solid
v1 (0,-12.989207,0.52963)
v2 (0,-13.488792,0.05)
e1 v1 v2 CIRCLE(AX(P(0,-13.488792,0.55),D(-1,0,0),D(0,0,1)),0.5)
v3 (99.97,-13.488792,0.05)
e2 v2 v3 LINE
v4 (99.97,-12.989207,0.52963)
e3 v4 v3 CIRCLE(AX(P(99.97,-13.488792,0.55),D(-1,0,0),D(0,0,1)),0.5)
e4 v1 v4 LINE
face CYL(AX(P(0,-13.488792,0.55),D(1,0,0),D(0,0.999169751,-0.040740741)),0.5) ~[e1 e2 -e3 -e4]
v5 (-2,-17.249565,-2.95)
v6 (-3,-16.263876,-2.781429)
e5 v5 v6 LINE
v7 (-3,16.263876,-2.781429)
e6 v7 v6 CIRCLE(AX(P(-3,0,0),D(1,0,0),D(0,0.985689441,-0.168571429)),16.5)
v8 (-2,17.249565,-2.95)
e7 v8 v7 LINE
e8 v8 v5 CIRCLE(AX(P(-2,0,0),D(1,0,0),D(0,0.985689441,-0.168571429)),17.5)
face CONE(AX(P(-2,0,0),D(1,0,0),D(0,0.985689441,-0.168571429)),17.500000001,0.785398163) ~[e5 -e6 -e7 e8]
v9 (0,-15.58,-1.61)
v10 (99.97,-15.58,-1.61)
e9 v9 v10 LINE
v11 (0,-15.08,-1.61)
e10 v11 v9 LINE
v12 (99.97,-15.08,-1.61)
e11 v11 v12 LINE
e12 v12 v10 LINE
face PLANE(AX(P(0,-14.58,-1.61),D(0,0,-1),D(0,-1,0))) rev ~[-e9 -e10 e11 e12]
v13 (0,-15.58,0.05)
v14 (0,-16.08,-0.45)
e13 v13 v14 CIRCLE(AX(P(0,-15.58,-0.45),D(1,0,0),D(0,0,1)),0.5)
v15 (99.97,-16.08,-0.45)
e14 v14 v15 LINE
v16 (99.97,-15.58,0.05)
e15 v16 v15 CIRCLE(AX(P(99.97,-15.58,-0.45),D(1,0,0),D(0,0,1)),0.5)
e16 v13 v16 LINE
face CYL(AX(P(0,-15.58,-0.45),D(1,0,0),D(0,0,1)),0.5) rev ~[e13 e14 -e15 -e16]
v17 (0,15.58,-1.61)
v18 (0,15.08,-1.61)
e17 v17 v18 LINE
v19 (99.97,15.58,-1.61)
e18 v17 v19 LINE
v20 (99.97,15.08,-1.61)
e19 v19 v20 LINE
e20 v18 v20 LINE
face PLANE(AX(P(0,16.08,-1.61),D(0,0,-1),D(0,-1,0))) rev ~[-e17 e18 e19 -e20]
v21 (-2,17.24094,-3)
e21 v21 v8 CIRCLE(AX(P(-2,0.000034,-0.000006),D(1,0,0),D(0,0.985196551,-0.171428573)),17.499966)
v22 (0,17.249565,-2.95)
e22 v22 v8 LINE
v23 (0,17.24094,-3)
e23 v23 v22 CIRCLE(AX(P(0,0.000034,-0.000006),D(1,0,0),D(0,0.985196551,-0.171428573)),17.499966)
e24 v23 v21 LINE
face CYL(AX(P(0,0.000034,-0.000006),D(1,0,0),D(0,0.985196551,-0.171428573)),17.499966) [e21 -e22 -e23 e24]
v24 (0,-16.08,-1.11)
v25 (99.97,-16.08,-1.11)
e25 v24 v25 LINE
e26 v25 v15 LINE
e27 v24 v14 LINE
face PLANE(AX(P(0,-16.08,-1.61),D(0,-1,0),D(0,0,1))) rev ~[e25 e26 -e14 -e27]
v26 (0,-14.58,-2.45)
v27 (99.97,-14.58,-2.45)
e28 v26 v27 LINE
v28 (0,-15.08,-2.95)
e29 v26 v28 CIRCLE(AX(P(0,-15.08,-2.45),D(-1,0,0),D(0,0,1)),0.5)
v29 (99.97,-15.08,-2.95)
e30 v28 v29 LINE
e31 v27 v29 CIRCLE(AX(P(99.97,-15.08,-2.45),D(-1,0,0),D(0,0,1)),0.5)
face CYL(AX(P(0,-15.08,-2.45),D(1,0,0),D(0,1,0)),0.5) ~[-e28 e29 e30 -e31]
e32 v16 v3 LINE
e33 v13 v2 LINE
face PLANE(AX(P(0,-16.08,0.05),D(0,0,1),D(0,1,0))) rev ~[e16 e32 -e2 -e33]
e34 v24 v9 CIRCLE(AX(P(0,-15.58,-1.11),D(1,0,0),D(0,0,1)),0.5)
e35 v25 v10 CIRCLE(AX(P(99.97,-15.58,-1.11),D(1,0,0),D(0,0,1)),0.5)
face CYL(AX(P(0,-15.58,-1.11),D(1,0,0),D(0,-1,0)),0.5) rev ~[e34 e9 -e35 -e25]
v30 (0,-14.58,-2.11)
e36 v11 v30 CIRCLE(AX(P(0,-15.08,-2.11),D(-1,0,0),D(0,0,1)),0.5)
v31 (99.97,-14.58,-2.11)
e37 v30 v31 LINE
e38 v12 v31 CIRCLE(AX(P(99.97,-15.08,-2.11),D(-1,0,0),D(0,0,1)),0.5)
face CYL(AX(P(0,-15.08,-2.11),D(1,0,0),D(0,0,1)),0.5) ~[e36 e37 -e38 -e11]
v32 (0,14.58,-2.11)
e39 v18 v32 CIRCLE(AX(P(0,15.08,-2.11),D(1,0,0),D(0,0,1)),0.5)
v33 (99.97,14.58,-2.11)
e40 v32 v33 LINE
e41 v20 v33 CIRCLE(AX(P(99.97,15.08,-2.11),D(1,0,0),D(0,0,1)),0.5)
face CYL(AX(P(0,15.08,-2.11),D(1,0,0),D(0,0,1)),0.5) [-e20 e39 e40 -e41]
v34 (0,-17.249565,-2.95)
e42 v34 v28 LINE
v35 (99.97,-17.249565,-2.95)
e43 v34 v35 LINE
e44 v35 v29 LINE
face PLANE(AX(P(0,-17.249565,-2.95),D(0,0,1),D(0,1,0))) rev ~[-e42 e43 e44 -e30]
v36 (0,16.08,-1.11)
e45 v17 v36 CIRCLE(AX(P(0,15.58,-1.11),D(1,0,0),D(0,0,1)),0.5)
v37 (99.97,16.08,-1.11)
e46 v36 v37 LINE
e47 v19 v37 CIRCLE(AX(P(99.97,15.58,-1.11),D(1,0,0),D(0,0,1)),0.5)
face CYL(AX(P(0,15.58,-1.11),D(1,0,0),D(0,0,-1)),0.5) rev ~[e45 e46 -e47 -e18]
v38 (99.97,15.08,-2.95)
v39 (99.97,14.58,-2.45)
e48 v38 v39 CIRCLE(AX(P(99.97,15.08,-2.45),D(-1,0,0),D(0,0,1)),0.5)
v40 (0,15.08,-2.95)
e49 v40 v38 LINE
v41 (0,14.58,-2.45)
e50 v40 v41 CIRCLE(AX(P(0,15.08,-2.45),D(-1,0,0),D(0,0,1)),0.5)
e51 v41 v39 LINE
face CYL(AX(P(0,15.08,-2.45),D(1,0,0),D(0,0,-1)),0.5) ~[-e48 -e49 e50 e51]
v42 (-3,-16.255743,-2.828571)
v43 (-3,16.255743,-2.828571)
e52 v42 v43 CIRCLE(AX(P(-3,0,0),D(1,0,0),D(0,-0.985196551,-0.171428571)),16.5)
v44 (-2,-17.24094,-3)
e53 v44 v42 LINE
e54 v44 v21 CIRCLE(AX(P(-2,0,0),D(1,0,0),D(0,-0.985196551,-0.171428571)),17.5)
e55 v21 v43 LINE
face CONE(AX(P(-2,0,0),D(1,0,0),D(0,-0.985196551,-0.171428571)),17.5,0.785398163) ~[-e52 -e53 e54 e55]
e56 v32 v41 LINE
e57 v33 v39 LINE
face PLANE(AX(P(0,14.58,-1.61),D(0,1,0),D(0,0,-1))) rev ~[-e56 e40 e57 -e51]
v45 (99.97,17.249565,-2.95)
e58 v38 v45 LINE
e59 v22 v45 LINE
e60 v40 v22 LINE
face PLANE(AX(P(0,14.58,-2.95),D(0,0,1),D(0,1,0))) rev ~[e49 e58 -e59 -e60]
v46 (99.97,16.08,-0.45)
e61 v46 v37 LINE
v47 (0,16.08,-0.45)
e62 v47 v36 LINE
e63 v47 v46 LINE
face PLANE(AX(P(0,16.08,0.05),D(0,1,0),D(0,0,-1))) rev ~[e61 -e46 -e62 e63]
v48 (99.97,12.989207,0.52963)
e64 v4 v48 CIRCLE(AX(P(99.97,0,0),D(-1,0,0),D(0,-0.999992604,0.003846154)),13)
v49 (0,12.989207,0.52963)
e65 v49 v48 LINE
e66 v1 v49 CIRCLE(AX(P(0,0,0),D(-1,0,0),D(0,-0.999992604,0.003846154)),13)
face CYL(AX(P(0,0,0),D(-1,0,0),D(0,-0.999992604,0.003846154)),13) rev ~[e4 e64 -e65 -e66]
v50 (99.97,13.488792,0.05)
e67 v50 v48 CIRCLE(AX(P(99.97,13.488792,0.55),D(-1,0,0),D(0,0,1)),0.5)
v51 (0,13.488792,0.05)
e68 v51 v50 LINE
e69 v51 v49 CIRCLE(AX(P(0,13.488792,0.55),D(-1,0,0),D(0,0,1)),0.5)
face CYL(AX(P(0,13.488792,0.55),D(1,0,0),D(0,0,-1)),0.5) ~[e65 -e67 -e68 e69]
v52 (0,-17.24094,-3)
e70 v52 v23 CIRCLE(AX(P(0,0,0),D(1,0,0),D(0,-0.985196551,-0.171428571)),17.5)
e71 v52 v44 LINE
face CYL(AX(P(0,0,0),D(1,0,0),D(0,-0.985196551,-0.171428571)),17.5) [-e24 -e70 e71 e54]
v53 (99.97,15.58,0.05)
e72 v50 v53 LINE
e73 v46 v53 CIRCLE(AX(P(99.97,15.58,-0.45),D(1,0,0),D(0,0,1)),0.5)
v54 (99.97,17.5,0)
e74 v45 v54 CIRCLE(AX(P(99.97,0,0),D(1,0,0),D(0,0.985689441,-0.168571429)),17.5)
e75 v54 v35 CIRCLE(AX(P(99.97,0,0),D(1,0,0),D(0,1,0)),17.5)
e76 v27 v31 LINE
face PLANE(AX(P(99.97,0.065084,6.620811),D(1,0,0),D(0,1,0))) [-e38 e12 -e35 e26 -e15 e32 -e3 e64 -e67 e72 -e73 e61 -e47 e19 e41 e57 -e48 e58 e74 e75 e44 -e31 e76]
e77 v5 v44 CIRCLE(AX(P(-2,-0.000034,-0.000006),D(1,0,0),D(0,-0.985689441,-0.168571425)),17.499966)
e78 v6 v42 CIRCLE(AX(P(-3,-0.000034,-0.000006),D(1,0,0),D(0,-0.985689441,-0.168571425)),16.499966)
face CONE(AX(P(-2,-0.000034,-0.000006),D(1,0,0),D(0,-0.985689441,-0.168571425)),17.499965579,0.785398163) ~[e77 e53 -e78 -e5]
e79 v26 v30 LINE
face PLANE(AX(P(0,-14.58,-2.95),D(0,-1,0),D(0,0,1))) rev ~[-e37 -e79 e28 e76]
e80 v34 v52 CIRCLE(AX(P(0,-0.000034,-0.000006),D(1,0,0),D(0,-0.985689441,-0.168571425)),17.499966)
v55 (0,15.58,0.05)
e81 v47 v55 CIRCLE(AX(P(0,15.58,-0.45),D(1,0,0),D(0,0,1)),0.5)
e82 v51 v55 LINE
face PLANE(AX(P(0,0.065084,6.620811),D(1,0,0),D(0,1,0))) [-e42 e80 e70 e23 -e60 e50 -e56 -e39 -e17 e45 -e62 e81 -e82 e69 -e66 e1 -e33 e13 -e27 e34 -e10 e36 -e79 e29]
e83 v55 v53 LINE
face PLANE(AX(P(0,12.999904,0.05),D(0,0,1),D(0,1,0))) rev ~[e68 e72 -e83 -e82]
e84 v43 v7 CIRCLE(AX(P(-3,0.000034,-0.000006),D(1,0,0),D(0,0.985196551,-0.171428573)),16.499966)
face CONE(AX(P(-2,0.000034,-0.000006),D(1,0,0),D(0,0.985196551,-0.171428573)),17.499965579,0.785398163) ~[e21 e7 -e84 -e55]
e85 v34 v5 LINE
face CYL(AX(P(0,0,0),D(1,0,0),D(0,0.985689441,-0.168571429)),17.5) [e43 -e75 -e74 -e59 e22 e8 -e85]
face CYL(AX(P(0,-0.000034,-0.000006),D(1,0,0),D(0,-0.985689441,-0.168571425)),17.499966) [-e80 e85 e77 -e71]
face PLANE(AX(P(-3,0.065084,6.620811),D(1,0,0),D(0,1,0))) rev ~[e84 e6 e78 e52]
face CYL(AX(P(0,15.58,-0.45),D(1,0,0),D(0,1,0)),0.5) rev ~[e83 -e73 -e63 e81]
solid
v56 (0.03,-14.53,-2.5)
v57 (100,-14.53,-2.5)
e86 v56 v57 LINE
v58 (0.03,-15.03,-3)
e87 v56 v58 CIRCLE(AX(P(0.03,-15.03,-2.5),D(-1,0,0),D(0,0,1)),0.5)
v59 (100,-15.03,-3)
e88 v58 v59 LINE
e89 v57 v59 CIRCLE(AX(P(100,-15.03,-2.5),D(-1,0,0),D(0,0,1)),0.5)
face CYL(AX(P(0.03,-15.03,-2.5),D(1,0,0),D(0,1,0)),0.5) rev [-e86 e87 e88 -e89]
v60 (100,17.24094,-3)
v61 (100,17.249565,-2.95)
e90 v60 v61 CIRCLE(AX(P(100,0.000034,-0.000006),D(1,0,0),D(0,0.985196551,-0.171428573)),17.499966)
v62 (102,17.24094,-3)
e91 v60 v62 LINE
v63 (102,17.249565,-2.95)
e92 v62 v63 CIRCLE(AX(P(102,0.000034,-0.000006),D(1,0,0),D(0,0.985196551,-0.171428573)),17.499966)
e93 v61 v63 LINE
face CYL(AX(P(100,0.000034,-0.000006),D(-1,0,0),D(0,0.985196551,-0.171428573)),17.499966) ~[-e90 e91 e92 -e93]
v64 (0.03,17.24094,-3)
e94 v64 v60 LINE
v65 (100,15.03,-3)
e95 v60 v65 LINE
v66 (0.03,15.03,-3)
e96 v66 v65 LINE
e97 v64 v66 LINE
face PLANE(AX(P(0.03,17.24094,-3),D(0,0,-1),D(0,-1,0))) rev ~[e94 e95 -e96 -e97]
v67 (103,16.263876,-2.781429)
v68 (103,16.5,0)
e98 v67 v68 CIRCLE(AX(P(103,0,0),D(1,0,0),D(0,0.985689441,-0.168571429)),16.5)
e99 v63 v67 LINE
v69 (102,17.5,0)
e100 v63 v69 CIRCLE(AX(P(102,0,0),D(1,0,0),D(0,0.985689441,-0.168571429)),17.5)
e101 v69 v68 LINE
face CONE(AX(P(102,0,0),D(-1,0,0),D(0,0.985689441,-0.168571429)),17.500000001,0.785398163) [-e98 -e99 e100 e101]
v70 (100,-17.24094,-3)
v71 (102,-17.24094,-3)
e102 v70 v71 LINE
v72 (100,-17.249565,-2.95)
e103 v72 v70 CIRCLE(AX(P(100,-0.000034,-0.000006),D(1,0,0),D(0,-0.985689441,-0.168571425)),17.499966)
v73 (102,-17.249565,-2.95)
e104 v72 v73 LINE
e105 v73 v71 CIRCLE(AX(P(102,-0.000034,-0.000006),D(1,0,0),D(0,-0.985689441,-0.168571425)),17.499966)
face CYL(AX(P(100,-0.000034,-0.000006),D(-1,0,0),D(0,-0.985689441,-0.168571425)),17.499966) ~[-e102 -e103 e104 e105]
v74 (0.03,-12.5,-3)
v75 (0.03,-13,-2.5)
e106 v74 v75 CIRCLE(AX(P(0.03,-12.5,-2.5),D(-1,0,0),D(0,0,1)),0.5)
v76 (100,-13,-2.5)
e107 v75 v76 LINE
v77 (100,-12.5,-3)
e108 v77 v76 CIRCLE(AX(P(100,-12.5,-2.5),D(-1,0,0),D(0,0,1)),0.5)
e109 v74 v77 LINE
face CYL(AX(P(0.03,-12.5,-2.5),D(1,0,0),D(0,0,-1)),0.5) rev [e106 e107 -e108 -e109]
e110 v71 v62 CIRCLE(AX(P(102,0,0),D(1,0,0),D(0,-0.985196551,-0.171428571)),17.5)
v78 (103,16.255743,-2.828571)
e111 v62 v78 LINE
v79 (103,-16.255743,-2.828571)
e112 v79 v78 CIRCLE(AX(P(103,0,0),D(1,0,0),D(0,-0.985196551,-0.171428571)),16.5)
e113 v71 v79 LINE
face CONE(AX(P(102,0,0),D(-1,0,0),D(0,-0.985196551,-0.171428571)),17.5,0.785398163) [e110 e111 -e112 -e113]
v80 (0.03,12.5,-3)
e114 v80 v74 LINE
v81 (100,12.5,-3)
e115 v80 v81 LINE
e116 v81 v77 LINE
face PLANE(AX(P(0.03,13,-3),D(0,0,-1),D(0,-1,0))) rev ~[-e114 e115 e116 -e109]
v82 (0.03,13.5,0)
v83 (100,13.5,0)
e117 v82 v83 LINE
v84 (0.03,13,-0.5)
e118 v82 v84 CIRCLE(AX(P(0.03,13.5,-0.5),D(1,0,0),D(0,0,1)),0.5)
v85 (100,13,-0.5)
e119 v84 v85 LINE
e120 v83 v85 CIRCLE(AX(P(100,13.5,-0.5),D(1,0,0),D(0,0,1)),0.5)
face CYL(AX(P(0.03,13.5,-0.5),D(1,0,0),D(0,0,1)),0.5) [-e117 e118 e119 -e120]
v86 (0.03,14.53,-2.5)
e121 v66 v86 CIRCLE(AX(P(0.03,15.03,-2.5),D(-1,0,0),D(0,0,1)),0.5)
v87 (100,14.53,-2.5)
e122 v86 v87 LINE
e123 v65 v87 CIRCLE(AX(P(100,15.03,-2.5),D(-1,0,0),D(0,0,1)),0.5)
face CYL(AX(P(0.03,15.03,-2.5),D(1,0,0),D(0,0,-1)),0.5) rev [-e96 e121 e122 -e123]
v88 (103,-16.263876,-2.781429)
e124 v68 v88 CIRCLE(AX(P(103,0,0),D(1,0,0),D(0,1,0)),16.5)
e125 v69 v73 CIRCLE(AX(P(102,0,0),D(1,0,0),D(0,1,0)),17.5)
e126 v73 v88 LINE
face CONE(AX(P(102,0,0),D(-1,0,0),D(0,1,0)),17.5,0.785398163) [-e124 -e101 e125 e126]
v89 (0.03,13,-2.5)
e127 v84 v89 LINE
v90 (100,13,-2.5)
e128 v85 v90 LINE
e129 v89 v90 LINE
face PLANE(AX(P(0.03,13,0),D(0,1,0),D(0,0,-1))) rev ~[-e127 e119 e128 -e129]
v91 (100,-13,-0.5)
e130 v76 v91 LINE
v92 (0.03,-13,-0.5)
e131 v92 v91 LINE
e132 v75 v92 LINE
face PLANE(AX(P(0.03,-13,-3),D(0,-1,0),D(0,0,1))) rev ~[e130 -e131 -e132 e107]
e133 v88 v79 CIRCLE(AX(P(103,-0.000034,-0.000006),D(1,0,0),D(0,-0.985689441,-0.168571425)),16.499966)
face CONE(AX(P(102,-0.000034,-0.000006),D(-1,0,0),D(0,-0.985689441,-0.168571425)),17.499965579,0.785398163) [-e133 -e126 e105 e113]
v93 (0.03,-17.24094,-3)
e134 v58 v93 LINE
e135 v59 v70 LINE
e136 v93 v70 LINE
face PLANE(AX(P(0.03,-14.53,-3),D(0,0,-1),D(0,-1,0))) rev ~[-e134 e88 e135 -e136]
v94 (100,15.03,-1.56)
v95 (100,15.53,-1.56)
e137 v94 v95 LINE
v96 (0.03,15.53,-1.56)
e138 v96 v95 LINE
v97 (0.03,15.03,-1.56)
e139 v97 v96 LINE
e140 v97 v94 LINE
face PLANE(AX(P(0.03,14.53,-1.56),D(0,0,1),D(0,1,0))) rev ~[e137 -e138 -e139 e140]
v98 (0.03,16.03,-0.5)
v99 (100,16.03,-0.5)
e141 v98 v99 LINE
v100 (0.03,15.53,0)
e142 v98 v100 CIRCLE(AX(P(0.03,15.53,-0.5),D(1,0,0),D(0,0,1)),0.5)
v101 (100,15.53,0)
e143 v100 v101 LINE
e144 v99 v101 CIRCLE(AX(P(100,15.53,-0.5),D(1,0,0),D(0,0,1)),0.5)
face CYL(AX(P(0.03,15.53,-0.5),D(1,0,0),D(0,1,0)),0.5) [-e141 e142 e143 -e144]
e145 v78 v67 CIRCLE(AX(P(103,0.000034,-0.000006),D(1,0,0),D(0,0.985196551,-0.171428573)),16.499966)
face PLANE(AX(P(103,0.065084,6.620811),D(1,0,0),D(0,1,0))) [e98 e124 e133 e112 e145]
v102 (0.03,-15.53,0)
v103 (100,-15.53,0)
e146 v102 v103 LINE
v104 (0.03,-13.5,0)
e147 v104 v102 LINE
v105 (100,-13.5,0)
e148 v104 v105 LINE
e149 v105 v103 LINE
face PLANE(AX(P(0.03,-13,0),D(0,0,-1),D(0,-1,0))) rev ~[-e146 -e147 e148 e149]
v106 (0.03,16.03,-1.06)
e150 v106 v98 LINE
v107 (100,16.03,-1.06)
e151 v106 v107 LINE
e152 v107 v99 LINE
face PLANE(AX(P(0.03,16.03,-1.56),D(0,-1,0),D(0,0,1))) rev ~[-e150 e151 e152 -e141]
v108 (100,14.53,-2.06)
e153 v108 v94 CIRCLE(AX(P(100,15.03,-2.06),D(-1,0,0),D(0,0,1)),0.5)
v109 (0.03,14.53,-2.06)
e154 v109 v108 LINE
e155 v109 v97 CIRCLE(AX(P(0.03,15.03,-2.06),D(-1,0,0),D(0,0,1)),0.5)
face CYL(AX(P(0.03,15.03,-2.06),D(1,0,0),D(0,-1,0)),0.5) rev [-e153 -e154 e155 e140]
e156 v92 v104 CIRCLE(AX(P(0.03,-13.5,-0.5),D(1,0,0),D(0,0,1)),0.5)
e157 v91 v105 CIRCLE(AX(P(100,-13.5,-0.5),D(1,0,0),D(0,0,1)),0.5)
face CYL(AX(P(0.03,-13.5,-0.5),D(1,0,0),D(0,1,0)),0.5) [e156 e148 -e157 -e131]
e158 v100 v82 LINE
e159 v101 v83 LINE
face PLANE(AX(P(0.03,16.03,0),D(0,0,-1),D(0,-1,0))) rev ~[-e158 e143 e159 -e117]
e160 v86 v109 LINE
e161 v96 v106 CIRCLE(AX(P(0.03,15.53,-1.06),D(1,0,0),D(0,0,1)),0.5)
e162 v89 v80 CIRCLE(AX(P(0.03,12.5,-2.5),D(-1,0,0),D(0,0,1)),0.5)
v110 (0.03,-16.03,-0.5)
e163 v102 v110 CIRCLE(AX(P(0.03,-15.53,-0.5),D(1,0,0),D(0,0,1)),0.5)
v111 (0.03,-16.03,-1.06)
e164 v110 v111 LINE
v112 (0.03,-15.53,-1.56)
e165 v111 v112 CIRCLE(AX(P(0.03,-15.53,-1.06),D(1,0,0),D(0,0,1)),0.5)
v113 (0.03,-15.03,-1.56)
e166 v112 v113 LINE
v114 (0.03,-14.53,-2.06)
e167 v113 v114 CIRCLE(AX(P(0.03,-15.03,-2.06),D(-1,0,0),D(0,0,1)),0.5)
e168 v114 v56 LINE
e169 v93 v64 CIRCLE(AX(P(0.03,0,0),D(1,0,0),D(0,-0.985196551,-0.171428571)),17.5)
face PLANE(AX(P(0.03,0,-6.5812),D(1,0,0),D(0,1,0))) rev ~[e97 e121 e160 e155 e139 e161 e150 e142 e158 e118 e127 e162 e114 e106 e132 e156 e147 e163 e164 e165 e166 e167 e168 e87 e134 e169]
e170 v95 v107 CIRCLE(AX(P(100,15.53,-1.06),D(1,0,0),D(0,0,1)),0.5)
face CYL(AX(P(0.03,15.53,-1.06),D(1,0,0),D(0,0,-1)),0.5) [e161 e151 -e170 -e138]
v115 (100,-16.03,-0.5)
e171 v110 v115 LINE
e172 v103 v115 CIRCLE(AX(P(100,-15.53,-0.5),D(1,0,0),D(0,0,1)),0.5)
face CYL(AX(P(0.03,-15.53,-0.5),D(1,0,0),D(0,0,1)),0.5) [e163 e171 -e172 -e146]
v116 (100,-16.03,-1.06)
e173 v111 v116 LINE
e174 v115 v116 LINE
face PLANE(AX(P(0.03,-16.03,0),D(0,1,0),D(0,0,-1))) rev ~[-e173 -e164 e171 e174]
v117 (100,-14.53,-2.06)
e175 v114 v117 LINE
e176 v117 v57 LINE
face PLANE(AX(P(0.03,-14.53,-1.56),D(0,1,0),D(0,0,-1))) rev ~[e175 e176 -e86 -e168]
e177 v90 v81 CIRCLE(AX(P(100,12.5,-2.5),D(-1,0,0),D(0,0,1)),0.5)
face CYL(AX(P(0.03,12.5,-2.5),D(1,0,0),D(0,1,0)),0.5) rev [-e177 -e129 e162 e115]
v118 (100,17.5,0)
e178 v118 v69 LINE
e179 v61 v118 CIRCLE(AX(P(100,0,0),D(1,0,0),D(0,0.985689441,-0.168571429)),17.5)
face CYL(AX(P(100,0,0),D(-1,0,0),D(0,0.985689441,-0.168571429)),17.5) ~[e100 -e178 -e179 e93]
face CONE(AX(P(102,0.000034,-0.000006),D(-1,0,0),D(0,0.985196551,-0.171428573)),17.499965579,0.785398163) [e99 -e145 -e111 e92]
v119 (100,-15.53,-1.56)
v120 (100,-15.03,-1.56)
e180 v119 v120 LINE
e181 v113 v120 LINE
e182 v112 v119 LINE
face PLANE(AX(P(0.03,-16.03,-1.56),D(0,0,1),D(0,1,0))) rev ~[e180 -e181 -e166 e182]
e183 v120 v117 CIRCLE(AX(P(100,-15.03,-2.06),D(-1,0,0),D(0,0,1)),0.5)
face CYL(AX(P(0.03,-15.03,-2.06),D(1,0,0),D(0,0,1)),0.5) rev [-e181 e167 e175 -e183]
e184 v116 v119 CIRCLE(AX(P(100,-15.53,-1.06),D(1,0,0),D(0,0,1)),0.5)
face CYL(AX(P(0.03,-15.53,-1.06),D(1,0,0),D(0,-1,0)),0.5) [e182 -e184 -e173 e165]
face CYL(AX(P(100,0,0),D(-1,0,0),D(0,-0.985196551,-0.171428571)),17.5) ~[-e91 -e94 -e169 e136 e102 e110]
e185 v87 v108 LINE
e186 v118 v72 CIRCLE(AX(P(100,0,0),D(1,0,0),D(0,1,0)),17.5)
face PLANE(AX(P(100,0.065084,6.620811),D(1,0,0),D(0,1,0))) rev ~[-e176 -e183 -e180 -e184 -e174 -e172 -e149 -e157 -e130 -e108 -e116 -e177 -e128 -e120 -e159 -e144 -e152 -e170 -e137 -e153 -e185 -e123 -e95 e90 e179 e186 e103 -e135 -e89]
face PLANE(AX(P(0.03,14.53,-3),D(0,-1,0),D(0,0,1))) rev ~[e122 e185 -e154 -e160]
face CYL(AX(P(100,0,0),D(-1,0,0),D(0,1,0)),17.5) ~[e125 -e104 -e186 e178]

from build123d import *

# Parameters (mm, degrees)
F1_DEPTH  = 99.97
F2_DEPTH  = 3
F3_START  = 0.03
F3_DEPTH  = 99.97
F4_START  = 100
F4_DEPTH  = 3
F5_SIZE   = 1
F5_2_SIZE = 1
F6_R      = 0.5
F6_2_R    = 0.5


with BuildPart() as f1:
    # F0 (on Right) → F1 (new body)
    with BuildSketch(Plane.YZ):
        with BuildLine():
            ThreePointArc((17.2495652119, -2.95), (17.4372789048, -1.4803055076), (17.5, 0))
            ThreePointArc((17.5, 0), (-1.4803055076, 17.4372789048), (-17.2495652119, -2.95))
            Line((-17.2495652119, -2.95), (-14.5799998846, -2.95))
            Line((-14.5799998846, -2.95), (-14.5799998846, -1.6099997692))
            Line((-14.5799998846, -1.6099997692), (-16.0799998846, -1.6099997692))
            Line((-16.0799998846, -1.6099997692), (-16.0799998846, 0.05))
            Line((-16.0799998846, 0.05), (-12.9999038458, 0.05))
            ThreePointArc((-12.9999038458, 0.05), (0, 13), (12.9999038458, 0.05))
            Line((12.9999038458, 0.05), (16.0799998846, 0.05))
            Line((16.0799998846, 0.05), (16.0799998846, -1.6099997692))
            Line((16.0799998846, -1.6099997692), (14.5799998846, -1.6099997692))
            Line((14.5799998846, -1.6099997692), (14.5799998846, -2.95))
            Line((14.5799998846, -2.95), (17.2495652119, -2.95))
        make_face()
    extrude(amount=F1_DEPTH)

    # F0 (on Right) → F2 (join)
    with BuildSketch(Plane.YZ):
        with BuildLine():
            ThreePointArc((17.2495652119, -2.95), (17.4372789048, -1.4803055076), (17.5, 0))
            ThreePointArc((17.5, 0), (-1.4803055076, 17.4372789048), (-17.2495652119, -2.95))
            Line((-17.2495652119, -2.95), (-14.5799998846, -2.95))
            Line((-14.5799998846, -2.95), (-14.5799998846, -1.6099997692))
            Line((-14.5799998846, -1.6099997692), (-16.0799998846, -1.6099997692))
            Line((-16.0799998846, -1.6099997692), (-16.0799998846, 0.05))
            Line((-16.0799998846, 0.05), (-12.9999038458, 0.05))
            ThreePointArc((-12.9999038458, 0.05), (0, 13), (12.9999038458, 0.05))
            Line((12.9999038458, 0.05), (16.0799998846, 0.05))
            Line((16.0799998846, 0.05), (16.0799998846, -1.6099997692))
            Line((16.0799998846, -1.6099997692), (14.5799998846, -1.6099997692))
            Line((14.5799998846, -1.6099997692), (14.5799998846, -2.95))
            Line((14.5799998846, -2.95), (17.2495652119, -2.95))
        make_face()
        with BuildLine():
            Line((-14.5799998846, -2.95), (-17.2495652119, -2.95))
            ThreePointArc((-17.2495652119, -2.95), (-17.2452705517, -2.9750031261), (-17.2409396496, -3))
            Line((-17.2409396496, -3), (-14.5299998846, -3))
            Line((-14.5299998846, -3), (-14.5299998846, -1.5599997692))
            Line((-14.5299998846, -1.5599997692), (-16.0299998846, -1.5599997692))
            Line((-16.0299998846, -1.5599997692), (-16.0299998846, 0))
            Line((-16.0299998846, 0), (-13, 0))
            ThreePointArc((-13, 0), (-12.9999759614, 0.0250000462), (-12.9999038458, 0.05))
            Line((-12.9999038458, 0.05), (-16.0799998846, 0.05))
            Line((-16.0799998846, 0.05), (-16.0799998846, -1.6099997692))
            Line((-16.0799998846, -1.6099997692), (-14.5799998846, -1.6099997692))
            Line((-14.5799998846, -1.6099997692), (-14.5799998846, -2.95))
        make_face()
        with BuildLine():
            ThreePointArc((17.2409396496, -3), (17.2452705517, -2.9750031261), (17.2495652119, -2.95))
            Line((17.2495652119, -2.95), (14.5799998846, -2.95))
            Line((14.5799998846, -2.95), (14.5799998846, -1.6099997692))
            Line((14.5799998846, -1.6099997692), (16.0799998846, -1.6099997692))
            Line((16.0799998846, -1.6099997692), (16.0799998846, 0.05))
            Line((16.0799998846, 0.05), (12.9999038458, 0.05))
            ThreePointArc((12.9999038458, 0.05), (12.9999759614, 0.0250000462), (13, 0))
            Line((13, 0), (16.0299998846, 0))
            Line((16.0299998846, 0), (16.0299998846, -1.5599997692))
            Line((16.0299998846, -1.5599997692), (14.5299998846, -1.5599997692))
            Line((14.5299998846, -1.5599997692), (14.5299998846, -3))
            Line((14.5299998846, -3), (17.2409396496, -3))
        make_face()
        with BuildLine():
            Line((-14.5299998846, -3), (-17.2409396496, -3))
            ThreePointArc((-17.2409396496, -3), (0, -17.5), (17.2409396496, -3))
            Line((17.2409396496, -3), (14.5299998846, -3))
            Line((14.5299998846, -3), (14.5299998846, -1.5599997692))
            Line((14.5299998846, -1.5599997692), (16.0299998846, -1.5599997692))
            Line((16.0299998846, -1.5599997692), (16.0299998846, 0))
            Line((16.0299998846, 0), (13, 0))
            Line((13, 0), (13, -3))
            Line((13, -3), (-13, -3))
            Line((-13, -3), (-13, 0))
            Line((-13, 0), (-16.0299998846, 0))
            Line((-16.0299998846, 0), (-16.0299998846, -1.5599997692))
            Line((-16.0299998846, -1.5599997692), (-14.5299998846, -1.5599997692))
            Line((-14.5299998846, -1.5599997692), (-14.5299998846, -3))
        make_face()
        with BuildLine():
            ThreePointArc((12.9999038458, 0.05), (0, 13), (-12.9999038458, 0.05))
            Line((-12.9999038458, 0.05), (12.9999038458, 0.05))
        make_face()
        with BuildLine():
            Line((12.9999038458, 0.05), (-12.9999038458, 0.05))
            ThreePointArc((-12.9999038458, 0.05), (-12.9999759614, 0.0250000462), (-13, 0))
            Line((-13, 0), (-13, -3))
            Line((-13, -3), (13, -3))
            Line((13, -3), (13, 0))
            ThreePointArc((13, 0), (12.9999759614, 0.0250000462), (12.9999038458, 0.05))
        make_face()
    extrude(amount=-F2_DEPTH)

    # F5
    f5_edges = [f1.edges().sort_by_distance(p)[0] for p in [
        (-3, 17.24094, 3),
    ]]
    chamfer(f5_edges, length=F5_SIZE)

    # F6#2
    f6_2_edges = [f1.edges().sort_by_distance(p)[0] for p in [
        (49.985, 16.08, 0.05),
        (49.985, 16.08, -1.61),
        (49.985, 14.58, -1.61),
        (49.985, 14.58, -2.95),
        (49.985, -14.58, -1.61),
        (49.985, -14.58, -2.95),
        (49.985, -16.08, -1.61),
        (49.985, -16.08, 0.05),
        (49.985, -12.999904, 0.05),
        (49.985, 12.999904, 0.05),
    ]]
    fillet(f6_2_edges, radius=F6_2_R)


with BuildPart() as f3:
    # F0 (on Right) → F3 (new body)
    with BuildSketch(Plane.YZ.offset(F3_START)):
        with BuildLine():
            Line((-14.5299998846, -3), (-17.2409396496, -3))
            ThreePointArc((-17.2409396496, -3), (0, -17.5), (17.2409396496, -3))
            Line((17.2409396496, -3), (14.5299998846, -3))
            Line((14.5299998846, -3), (14.5299998846, -1.5599997692))
            Line((14.5299998846, -1.5599997692), (16.0299998846, -1.5599997692))
            Line((16.0299998846, -1.5599997692), (16.0299998846, 0))
            Line((16.0299998846, 0), (13, 0))
            Line((13, 0), (13, -3))
            Line((13, -3), (-13, -3))
            Line((-13, -3), (-13, 0))
            Line((-13, 0), (-16.0299998846, 0))
            Line((-16.0299998846, 0), (-16.0299998846, -1.5599997692))
            Line((-16.0299998846, -1.5599997692), (-14.5299998846, -1.5599997692))
            Line((-14.5299998846, -1.5599997692), (-14.5299998846, -3))
        make_face()
    extrude(amount=F3_DEPTH)

    # F0 (on Right) → F4 (join)
    with BuildSketch(Plane.YZ.offset(F4_START)):
        with BuildLine():
            ThreePointArc((17.2495652119, -2.95), (17.4372789048, -1.4803055076), (17.5, 0))
            ThreePointArc((17.5, 0), (-1.4803055076, 17.4372789048), (-17.2495652119, -2.95))
            Line((-17.2495652119, -2.95), (-14.5799998846, -2.95))
            Line((-14.5799998846, -2.95), (-14.5799998846, -1.6099997692))
            Line((-14.5799998846, -1.6099997692), (-16.0799998846, -1.6099997692))
            Line((-16.0799998846, -1.6099997692), (-16.0799998846, 0.05))
            Line((-16.0799998846, 0.05), (-12.9999038458, 0.05))
            ThreePointArc((-12.9999038458, 0.05), (0, 13), (12.9999038458, 0.05))
            Line((12.9999038458, 0.05), (16.0799998846, 0.05))
            Line((16.0799998846, 0.05), (16.0799998846, -1.6099997692))
            Line((16.0799998846, -1.6099997692), (14.5799998846, -1.6099997692))
            Line((14.5799998846, -1.6099997692), (14.5799998846, -2.95))
            Line((14.5799998846, -2.95), (17.2495652119, -2.95))
        make_face()
        with BuildLine():
            Line((-14.5799998846, -2.95), (-17.2495652119, -2.95))
            ThreePointArc((-17.2495652119, -2.95), (-17.2452705517, -2.9750031261), (-17.2409396496, -3))
            Line((-17.2409396496, -3), (-14.5299998846, -3))
            Line((-14.5299998846, -3), (-14.5299998846, -1.5599997692))
            Line((-14.5299998846, -1.5599997692), (-16.0299998846, -1.5599997692))
            Line((-16.0299998846, -1.5599997692), (-16.0299998846, 0))
            Line((-16.0299998846, 0), (-13, 0))
            ThreePointArc((-13, 0), (-12.9999759614, 0.0250000462), (-12.9999038458, 0.05))
            Line((-12.9999038458, 0.05), (-16.0799998846, 0.05))
            Line((-16.0799998846, 0.05), (-16.0799998846, -1.6099997692))
            Line((-16.0799998846, -1.6099997692), (-14.5799998846, -1.6099997692))
            Line((-14.5799998846, -1.6099997692), (-14.5799998846, -2.95))
        make_face()
        with BuildLine():
            ThreePointArc((17.2409396496, -3), (17.2452705517, -2.9750031261), (17.2495652119, -2.95))
            Line((17.2495652119, -2.95), (14.5799998846, -2.95))
            Line((14.5799998846, -2.95), (14.5799998846, -1.6099997692))
            Line((14.5799998846, -1.6099997692), (16.0799998846, -1.6099997692))
            Line((16.0799998846, -1.6099997692), (16.0799998846, 0.05))
            Line((16.0799998846, 0.05), (12.9999038458, 0.05))
            ThreePointArc((12.9999038458, 0.05), (12.9999759614, 0.0250000462), (13, 0))
            Line((13, 0), (16.0299998846, 0))
            Line((16.0299998846, 0), (16.0299998846, -1.5599997692))
            Line((16.0299998846, -1.5599997692), (14.5299998846, -1.5599997692))
            Line((14.5299998846, -1.5599997692), (14.5299998846, -3))
            Line((14.5299998846, -3), (17.2409396496, -3))
        make_face()
        with BuildLine():
            Line((-14.5299998846, -3), (-17.2409396496, -3))
            ThreePointArc((-17.2409396496, -3), (0, -17.5), (17.2409396496, -3))
            Line((17.2409396496, -3), (14.5299998846, -3))
            Line((14.5299998846, -3), (14.5299998846, -1.5599997692))
            Line((14.5299998846, -1.5599997692), (16.0299998846, -1.5599997692))
            Line((16.0299998846, -1.5599997692), (16.0299998846, 0))
            Line((16.0299998846, 0), (13, 0))
            Line((13, 0), (13, -3))
            Line((13, -3), (-13, -3))
            Line((-13, -3), (-13, 0))
            Line((-13, 0), (-16.0299998846, 0))
            Line((-16.0299998846, 0), (-16.0299998846, -1.5599997692))
            Line((-16.0299998846, -1.5599997692), (-14.5299998846, -1.5599997692))
            Line((-14.5299998846, -1.5599997692), (-14.5299998846, -3))
        make_face()
        with BuildLine():
            ThreePointArc((12.9999038458, 0.05), (0, 13), (-12.9999038458, 0.05))
            Line((-12.9999038458, 0.05), (12.9999038458, 0.05))
        make_face()
        with BuildLine():
            Line((12.9999038458, 0.05), (-12.9999038458, 0.05))
            ThreePointArc((-12.9999038458, 0.05), (-12.9999759614, 0.0250000462), (-13, 0))
            Line((-13, 0), (-13, -3))
            Line((-13, -3), (13, -3))
            Line((13, -3), (13, 0))
            ThreePointArc((13, 0), (12.9999759614, 0.0250000462), (12.9999038458, 0.05))
        make_face()
    extrude(amount=F4_DEPTH)

    # F5#2
    f5_2_edges = [f3.edges().sort_by_distance(p)[0] for p in [
        (103, 17.24094, 3),
    ]]
    chamfer(f5_2_edges, length=F5_2_SIZE)

    # F6
    f6_edges = [f3.edges().sort_by_distance(p)[0] for p in [
        (50.015, 13, 0),
        (50.015, 16.03, 0),
        (50.015, 16.03, -1.56),
        (50.015, 14.53, -1.56),
        (50.015, 13, -3),
        (50.015, 14.53, -3),
        (50.015, -13, 0),
        (50.015, -13, -3),
        (50.015, -14.53, -1.56),
        (50.015, -14.53, -3),
        (50.015, -16.03, -1.56),
        (50.015, -16.03, 0),
    ]]
    fillet(f6_edges, radius=F6_R)


solid = Compound([f1.part, f3.part])
